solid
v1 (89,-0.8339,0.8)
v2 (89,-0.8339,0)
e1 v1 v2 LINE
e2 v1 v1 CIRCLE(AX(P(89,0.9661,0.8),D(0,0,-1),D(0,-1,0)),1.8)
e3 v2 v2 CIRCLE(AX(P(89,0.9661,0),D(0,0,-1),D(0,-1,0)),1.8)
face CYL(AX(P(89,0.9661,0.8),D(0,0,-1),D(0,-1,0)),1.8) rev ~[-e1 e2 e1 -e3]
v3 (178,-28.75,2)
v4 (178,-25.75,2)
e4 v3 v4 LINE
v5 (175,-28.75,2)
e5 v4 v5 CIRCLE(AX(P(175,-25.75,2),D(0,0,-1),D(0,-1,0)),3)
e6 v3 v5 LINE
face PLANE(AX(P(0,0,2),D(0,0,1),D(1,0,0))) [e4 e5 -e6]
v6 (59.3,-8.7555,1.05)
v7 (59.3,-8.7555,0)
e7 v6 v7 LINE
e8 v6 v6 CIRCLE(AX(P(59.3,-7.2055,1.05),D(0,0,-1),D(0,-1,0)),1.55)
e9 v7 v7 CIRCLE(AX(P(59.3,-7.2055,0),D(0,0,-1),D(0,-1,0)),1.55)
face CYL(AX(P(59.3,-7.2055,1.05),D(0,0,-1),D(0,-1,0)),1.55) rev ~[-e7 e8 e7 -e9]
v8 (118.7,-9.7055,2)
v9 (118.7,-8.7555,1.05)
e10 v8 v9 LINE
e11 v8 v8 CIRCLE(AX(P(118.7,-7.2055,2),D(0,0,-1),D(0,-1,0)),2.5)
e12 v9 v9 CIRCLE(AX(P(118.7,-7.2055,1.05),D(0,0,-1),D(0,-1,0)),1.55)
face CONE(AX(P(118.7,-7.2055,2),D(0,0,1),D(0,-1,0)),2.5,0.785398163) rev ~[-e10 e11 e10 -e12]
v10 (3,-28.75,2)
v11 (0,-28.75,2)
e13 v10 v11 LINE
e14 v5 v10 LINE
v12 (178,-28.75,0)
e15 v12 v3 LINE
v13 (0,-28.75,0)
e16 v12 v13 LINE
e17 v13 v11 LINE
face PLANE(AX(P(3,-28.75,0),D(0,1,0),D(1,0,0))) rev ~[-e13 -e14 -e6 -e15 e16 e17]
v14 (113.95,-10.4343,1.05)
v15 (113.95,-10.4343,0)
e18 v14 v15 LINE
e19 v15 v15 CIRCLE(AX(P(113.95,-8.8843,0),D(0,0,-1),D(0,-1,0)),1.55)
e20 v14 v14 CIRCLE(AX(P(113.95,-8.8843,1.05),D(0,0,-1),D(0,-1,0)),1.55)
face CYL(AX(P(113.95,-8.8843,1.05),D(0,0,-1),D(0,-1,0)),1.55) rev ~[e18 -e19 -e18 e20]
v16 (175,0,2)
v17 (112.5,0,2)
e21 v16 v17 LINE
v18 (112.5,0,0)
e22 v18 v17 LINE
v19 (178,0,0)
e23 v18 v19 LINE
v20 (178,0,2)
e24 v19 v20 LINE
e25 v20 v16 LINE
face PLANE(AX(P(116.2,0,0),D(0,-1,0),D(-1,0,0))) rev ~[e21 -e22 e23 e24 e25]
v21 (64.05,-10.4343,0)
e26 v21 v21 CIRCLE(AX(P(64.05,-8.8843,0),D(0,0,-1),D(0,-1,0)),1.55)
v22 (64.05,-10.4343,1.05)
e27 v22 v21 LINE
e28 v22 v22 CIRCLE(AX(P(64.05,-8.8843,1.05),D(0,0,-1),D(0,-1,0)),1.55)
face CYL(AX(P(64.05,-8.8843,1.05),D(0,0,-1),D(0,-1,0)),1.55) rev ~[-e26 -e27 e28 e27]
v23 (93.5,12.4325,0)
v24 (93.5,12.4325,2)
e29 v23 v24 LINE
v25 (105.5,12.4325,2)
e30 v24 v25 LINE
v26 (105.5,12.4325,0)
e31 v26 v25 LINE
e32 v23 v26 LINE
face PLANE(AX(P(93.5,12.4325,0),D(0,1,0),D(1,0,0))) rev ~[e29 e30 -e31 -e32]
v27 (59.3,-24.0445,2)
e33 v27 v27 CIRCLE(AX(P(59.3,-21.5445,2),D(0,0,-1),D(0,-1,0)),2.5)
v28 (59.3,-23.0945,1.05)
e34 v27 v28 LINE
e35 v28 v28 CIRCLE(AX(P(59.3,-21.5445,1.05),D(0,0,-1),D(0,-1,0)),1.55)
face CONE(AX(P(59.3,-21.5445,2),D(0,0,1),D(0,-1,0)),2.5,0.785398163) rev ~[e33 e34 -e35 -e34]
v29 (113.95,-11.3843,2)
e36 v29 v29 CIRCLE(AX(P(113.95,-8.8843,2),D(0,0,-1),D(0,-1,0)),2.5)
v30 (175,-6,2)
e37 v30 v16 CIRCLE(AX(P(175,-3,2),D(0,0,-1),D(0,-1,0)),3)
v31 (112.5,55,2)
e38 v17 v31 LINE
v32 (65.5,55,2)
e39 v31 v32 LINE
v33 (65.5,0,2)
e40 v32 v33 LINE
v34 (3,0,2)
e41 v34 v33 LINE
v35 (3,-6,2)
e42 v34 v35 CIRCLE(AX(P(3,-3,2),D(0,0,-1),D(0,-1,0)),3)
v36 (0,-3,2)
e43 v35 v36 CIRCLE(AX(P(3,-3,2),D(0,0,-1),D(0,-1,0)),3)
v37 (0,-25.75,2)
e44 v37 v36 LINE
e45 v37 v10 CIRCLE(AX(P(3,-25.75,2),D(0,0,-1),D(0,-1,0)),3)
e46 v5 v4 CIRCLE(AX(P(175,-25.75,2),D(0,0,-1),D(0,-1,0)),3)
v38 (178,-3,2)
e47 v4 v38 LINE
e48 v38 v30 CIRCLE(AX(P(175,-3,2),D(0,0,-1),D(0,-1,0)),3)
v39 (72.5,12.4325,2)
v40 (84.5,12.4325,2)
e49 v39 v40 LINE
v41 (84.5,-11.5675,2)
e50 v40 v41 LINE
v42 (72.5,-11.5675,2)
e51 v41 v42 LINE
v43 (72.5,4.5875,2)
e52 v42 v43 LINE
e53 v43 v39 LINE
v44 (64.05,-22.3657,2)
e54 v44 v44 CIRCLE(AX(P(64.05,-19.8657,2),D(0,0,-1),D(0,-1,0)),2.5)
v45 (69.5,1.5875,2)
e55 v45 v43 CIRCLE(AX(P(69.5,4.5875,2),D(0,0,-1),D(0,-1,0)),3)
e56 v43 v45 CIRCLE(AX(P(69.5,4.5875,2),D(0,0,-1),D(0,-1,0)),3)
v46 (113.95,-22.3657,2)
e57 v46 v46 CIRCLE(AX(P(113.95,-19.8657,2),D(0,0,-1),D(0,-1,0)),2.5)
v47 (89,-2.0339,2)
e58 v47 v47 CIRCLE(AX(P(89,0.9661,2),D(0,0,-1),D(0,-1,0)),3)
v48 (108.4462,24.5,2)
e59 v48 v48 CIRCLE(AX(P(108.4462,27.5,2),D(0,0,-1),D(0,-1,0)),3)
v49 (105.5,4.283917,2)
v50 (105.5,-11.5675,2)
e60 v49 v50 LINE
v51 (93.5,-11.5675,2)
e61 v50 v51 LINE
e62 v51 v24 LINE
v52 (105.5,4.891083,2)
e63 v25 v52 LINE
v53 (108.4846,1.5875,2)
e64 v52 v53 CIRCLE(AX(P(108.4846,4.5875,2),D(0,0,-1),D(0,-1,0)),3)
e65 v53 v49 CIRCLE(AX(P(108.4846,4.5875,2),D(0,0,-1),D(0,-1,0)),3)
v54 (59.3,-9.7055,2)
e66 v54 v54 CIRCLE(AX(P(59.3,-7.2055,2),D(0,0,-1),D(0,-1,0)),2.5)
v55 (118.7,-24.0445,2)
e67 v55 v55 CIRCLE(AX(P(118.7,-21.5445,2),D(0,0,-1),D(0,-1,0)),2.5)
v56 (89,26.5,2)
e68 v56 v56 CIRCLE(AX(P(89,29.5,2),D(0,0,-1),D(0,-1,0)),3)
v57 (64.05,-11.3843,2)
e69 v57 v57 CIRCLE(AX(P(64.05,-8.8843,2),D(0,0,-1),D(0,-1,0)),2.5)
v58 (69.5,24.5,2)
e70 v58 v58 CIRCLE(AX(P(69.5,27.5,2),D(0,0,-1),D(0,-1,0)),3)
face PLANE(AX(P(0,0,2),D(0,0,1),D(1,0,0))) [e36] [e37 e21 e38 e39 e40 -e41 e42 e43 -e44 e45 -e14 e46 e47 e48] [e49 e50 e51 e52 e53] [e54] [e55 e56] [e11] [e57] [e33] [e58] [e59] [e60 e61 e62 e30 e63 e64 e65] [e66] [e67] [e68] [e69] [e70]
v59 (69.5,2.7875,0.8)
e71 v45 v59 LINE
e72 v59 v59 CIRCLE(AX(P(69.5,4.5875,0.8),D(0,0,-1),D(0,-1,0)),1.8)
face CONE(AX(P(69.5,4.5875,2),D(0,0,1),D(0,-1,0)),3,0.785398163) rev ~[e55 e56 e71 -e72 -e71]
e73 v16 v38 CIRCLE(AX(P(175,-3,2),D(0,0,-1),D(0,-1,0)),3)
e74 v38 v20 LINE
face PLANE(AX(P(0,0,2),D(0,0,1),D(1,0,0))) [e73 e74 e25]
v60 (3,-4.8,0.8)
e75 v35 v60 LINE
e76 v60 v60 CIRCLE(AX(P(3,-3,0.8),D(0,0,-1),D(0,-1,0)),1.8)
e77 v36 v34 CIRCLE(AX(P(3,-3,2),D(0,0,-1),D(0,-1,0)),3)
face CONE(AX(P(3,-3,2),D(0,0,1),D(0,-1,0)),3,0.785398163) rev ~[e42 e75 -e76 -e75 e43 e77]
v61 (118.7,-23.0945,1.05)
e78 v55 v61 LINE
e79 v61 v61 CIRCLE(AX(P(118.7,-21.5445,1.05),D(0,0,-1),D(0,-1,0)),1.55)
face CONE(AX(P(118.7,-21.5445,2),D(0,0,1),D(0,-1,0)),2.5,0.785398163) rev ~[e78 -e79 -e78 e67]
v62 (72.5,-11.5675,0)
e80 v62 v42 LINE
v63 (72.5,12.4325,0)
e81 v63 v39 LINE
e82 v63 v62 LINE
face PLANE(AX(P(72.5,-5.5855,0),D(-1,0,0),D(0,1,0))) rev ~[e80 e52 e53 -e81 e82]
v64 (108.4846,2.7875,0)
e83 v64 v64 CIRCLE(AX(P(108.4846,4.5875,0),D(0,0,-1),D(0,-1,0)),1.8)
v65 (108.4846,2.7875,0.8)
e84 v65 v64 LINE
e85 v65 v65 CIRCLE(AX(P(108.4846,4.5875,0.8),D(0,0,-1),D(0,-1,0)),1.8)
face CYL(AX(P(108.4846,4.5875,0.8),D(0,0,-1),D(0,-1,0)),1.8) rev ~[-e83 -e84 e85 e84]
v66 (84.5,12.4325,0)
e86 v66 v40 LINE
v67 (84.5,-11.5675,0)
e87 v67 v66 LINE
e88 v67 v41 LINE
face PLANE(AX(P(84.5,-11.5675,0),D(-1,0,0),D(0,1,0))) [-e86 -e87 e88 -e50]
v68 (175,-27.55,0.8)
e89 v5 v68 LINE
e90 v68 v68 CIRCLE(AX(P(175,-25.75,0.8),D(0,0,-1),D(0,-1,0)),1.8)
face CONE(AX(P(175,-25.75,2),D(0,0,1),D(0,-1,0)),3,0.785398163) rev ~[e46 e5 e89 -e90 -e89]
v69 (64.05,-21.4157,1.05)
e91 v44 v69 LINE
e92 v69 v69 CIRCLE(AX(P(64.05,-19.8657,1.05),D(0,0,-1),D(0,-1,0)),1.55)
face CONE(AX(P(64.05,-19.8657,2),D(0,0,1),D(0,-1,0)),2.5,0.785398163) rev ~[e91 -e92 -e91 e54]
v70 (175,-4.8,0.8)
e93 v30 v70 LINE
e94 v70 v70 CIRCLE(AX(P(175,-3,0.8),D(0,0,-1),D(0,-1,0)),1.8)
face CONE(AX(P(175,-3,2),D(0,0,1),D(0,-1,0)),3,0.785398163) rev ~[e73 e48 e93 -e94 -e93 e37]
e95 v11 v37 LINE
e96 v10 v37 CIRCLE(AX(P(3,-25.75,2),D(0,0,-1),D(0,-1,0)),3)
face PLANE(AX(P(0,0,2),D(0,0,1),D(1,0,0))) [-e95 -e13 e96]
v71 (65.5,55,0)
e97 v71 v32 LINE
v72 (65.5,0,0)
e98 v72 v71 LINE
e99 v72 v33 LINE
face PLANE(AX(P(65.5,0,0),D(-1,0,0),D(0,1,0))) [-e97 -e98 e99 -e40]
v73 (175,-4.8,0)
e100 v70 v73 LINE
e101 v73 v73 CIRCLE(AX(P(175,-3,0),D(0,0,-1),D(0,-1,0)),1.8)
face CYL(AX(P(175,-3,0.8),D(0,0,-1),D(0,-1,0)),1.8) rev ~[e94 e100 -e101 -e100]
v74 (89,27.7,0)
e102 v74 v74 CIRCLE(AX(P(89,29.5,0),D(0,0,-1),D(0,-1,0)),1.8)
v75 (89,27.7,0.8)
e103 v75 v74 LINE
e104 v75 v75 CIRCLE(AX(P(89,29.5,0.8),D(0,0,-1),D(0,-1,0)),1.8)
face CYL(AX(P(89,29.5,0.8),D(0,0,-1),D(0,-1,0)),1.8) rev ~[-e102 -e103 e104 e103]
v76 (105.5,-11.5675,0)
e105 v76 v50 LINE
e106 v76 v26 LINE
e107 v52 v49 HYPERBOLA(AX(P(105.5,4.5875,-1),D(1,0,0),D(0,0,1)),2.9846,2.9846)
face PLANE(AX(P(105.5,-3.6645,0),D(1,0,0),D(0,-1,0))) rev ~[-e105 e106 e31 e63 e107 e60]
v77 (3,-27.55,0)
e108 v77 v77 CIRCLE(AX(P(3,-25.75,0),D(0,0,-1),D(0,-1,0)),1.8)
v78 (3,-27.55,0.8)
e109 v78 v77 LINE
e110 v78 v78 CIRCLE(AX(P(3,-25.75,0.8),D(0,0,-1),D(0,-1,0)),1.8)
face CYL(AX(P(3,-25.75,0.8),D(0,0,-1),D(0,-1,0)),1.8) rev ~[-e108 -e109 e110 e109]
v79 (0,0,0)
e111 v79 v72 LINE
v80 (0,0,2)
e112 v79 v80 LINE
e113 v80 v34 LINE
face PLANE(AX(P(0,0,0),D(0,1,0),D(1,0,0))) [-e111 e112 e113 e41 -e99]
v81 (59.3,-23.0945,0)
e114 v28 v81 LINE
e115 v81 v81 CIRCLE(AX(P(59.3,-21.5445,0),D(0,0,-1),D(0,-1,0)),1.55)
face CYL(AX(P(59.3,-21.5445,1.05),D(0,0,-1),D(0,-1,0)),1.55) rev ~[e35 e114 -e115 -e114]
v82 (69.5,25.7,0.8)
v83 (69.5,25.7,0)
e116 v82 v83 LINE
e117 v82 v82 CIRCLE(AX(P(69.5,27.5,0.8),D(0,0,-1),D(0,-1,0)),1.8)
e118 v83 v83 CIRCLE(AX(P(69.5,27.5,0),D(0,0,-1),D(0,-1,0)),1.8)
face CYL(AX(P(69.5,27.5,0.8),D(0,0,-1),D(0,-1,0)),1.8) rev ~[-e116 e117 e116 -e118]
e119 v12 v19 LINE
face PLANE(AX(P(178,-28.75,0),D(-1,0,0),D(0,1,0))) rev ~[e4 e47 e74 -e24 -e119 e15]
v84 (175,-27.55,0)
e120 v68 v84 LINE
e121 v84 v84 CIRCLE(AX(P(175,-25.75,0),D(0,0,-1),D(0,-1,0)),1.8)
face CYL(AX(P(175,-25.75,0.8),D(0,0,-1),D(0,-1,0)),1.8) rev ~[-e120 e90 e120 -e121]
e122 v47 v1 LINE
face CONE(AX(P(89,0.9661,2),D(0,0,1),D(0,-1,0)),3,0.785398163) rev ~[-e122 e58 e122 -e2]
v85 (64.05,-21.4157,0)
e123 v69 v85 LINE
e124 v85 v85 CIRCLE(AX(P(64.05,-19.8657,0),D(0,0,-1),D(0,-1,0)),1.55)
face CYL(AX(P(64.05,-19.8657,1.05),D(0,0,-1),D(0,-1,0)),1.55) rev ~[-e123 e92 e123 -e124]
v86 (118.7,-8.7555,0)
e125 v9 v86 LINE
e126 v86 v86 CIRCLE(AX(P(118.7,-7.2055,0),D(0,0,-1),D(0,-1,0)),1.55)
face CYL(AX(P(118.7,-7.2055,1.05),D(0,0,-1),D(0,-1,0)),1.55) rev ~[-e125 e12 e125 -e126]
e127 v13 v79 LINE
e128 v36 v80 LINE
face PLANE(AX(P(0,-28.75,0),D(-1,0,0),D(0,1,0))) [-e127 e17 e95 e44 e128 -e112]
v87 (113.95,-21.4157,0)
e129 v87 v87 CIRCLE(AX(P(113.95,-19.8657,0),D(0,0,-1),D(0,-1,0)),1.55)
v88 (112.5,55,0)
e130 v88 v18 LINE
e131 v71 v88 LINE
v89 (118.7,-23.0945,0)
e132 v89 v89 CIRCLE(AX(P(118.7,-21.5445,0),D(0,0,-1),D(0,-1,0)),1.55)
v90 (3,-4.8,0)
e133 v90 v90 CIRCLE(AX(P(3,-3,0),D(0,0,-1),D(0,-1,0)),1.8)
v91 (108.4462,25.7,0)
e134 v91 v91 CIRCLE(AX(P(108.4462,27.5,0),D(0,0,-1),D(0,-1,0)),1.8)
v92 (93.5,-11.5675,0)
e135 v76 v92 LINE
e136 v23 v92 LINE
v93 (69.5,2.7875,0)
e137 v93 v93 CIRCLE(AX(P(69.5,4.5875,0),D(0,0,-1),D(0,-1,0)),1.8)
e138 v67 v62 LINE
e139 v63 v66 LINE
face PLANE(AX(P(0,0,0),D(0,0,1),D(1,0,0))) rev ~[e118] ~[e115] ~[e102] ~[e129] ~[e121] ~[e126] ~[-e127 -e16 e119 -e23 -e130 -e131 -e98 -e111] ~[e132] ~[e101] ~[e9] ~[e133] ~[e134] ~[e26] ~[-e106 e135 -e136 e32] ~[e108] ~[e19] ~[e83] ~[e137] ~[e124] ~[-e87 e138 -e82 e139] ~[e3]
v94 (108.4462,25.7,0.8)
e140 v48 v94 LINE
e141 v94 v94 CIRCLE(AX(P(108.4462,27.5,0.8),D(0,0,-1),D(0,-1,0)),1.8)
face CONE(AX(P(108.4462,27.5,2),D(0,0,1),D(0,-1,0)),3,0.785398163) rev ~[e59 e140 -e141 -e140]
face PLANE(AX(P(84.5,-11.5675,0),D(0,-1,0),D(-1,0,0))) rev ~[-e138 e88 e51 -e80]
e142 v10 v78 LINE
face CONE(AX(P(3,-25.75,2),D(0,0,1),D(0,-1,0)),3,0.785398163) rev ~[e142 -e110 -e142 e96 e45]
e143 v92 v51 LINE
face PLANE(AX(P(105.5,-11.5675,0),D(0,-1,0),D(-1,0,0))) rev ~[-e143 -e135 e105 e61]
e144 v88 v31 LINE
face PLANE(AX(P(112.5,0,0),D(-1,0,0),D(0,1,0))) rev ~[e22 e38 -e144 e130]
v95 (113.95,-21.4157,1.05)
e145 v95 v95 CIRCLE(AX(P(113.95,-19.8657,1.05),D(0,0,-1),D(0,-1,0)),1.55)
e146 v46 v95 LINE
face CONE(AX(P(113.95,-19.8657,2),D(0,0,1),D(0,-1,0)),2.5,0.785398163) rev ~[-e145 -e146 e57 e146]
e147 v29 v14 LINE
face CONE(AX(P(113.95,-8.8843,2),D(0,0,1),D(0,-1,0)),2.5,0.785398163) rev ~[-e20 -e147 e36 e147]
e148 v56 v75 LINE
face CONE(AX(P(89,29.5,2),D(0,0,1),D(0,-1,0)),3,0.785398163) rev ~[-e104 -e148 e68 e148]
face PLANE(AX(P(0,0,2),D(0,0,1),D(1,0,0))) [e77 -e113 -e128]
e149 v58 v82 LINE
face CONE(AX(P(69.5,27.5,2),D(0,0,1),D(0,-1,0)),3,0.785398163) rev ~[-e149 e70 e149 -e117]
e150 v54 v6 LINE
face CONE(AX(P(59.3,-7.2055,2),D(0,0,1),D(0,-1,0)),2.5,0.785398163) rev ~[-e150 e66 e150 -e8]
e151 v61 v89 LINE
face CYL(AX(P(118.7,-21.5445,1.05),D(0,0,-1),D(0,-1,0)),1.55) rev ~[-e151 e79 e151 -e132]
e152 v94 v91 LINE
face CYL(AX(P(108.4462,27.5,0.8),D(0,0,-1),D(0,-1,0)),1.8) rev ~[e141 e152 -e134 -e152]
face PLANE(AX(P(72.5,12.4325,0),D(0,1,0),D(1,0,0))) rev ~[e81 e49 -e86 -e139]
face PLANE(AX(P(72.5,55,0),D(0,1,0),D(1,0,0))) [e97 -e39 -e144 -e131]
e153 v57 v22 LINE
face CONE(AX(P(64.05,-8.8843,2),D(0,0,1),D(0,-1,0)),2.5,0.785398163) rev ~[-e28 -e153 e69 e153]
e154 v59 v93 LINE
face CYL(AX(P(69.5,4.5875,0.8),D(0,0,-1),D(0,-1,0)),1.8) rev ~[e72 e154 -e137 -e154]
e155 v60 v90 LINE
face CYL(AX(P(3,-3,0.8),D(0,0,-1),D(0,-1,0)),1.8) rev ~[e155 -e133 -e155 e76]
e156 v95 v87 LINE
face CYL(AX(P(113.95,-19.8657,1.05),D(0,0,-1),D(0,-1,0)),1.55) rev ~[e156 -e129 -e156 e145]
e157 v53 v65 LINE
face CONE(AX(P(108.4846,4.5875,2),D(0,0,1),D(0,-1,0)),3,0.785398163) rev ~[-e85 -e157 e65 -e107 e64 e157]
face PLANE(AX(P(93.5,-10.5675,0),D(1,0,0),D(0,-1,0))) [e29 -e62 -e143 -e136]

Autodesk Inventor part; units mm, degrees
ref_plane "YZ Plane" through (0, 0, 0) normal (1, 0, 0) x (0, 1, 0)
ref_plane "XZ Plane" through (0, 0, 0) normal (0, 1, 0) x (-1, 0, 0)
ref_plane "XY Plane" through (0, 0, 0) normal (0, 0, 1) x (1, 0, 0)
ref_plane "Work Plane1" through (0, 0, 0) normal (0, 0, 1) x (1, 0, 0)
ref_plane "Work Plane2" through (0, 0, 0) normal (0, 0, 1) x (1, 0, 0)
sketch "Sketch3" plane through (0, 0, 0) normal (0, 0, 1) x (1, 0, 0)
  circle A0 centre (3, -25.75) radius 2.3 projected
  circle A1 centre (3, -3) radius 2.3 projected
  circle A2 centre (3, -74.8889) radius 2.3 projected
  line L0 (0, 0) -> (6, 0) projected
  line L1 (0, -77.8889) -> (0, 0) projected
  line L2 (0, -77.8889) -> (6, -77.8889) projected
  line L3 (6, -71.8889) -> (6, -77.8889) projected
  line L4 (6, -71.8889) -> (1.6, -71.8889) projected
  line L5 (1.6, -71.8889) -> (1.6, -56.7889) projected
  line L6 (1.6, -56.7889) -> (9.6, -56.7889) projected
  line L7 (9.6, -44.7889) -> (9.6, -56.7889) projected
  line L8 (3, -44.7889) -> (9.6, -44.7889) projected
  line L9 (3, -28.75) -> (3, -44.7889) projected
  line L10 (3, -28.75) -> (6, -28.75) projected
  line L11 (6, -28.75) -> (6, -22.75) projected
  line L12 (6, -22.75) -> (3, -22.75) projected
  line L13 (3, -6) -> (3, -22.75) projected
  line L14 (3, -6) -> (6, -6) projected
  line L15 (6, -6) -> (6, 0) projected
  circle A3 centre (5.6, -52.7889) radius 2.6 projected
  circle A4 centre (175, -3) radius 2.3 projected
  circle A5 centre (175, -25.75) radius 2.3 projected
  line L16 (175, -28.75) -> (175, -41.8889) projected
  line L17 (168.4, -41.8889) -> (175, -41.8889) projected
  line L18 (168.4, -53.8889) -> (168.4, -41.8889) projected
  line L19 (175, -53.8889) -> (168.4, -53.8889) projected
  line L20 (175, -53.8889) -> (175, -71.8889) projected
  line L21 (172, -71.8889) -> (172, -77.8889) projected
  line L22 (178, -77.8889) -> (172, -77.8889) projected
  line L23 (178, -77.8889) -> (178, 0) projected
  line L24 (178, 0) -> (172, 0) projected
  line L25 (172, 0) -> (172, -6) projected
  line L26 (172, -6) -> (175, -6) projected
  line L27 (175, -6) -> (175, -22.75) projected
  line L28 (175, -22.75) -> (172, -22.75) projected
  line L29 (172, -22.75) -> (172, -28.75) projected
  line L30 (172, -28.75) -> (175, -28.75) projected
  circle A6 centre (175, -74.8889) radius 2.3 projected
  circle A7 centre (172.4, -49.8889) radius 2.6 projected
  circle A8 centre (89, 0.9661) radius 2.3 projected
  circle A9 centre (89, 29.5) radius 2.3 projected
  circle A10 centre (89, 15.55) radius 3.3 projected
  circle A11 centre (89, -14.375) radius 3.3 projected
  circle A12 centre (89, 41.2) radius 3.3 projected
  line L31 (93.5, -27.75) -> (84.5, -27.75) projected
  line L32 (93.5, 55) -> (93.5, -27.75) projected
  line L33 (84.5, 55) -> (93.5, 55) projected
  line L34 (84.5, -27.75) -> (84.5, 55) projected
  line L35 (105.5, -27.75) -> (111.5, -27.75) projected
  line L36 (111.5, -24.9105) -> (111.5, -27.75) projected
  arc A13 (105.5, -24.9105) -> (111.5, -24.9105) centre (108.5, -23.95) ccw projected
  line L37 (105.5, -27.75) -> (105.5, -24.9105) projected
  arc A14 (111.5, -22.9895) -> (105.5, -22.9895) centre (108.5, -23.95) ccw projected
  line L38 (111.5, -5.5855) -> (111.5, -22.9895) projected
  arc A15 (105.5, -5.5855) -> (111.5, -5.5855) centre (108.5, -4.625) ccw projected
  line L39 (105.5, -22.9895) -> (105.5, -5.5855) projected
  circle A16 centre (108.4846, 4.5875) radius 2.3 projected
  arc A17 (105.5, 12.8395) -> (111.5, 12.8395) centre (108.5, 13.8) ccw projected
  line L40 (105.5, -3.6645) -> (105.5, 12.8395) projected
  arc A18 (111.5, -3.6645) -> (105.5, -3.6645) centre (108.5, -4.625) ccw projected
  line L41 (111.5, 12.8395) -> (111.5, -3.6645) projected
  circle A19 centre (108.4462, 27.5) radius 2.3 projected
  arc A20 (111.5, 14.7605) -> (105.5, 14.7605) centre (108.5, 13.8) ccw projected
  line L42 (111.5, 40.6331) -> (111.5, 14.7605) projected
  arc A21 (105.5, 40.1338) -> (111.5, 40.6331) centre (108.4231, 41.3077) ccw projected
  line L43 (105.5, 14.7605) -> (105.5, 40.1338) projected
  arc A22 (111.5, 41.9823) -> (105.5, 42.4816) centre (108.4231, 41.3077) ccw projected
  line L44 (111.5, 55) -> (111.5, 41.9823) projected
  line L45 (105.5, 55) -> (111.5, 55) projected
  line L46 (105.5, 42.4816) -> (105.5, 55) projected
  line L47 (111.5, 41.9823) -> (111.5, 55) projected
  line L48 (111.5, 41.9823) -> (112.5, 41.9823) projected
  line L49 (112.5, 41.9823) -> (112.5, 55) projected
  line L50 (111.5, 55) -> (112.5, 55) projected
  line L51 (111.5, 14.7605) -> (111.5, 40.6331) projected
  line L52 (111.5, 14.7605) -> (112.5, 14.7605) projected
  line L53 (112.5, 14.7605) -> (112.5, 40.6331) projected
  line L54 (111.5, 40.6331) -> (112.5, 40.6331) projected
  line L55 (111.5, -3.6645) -> (111.5, 12.8395) projected
  line L56 (111.5, -3.6645) -> (112.5, -3.6645) projected
  line L57 (112.5, -3.6645) -> (112.5, 12.8395) projected
  line L58 (111.5, 12.8395) -> (112.5, 12.8395) projected
  line L59 (66.5, 14.7605) -> (66.5, 40.6331) projected
  line L60 (66.5, 40.6331) -> (65.5, 40.6331) projected
  line L61 (65.5, 14.7605) -> (65.5, 40.6331) projected
  line L62 (66.5, 14.7605) -> (65.5, 14.7605) projected
  line L63 (66.5, 41.9823) -> (66.5, 55) projected
  line L64 (66.5, 55) -> (65.5, 55) projected
  line L65 (65.5, 41.9823) -> (65.5, 55) projected
  line L66 (66.5, 41.9823) -> (65.5, 41.9823) projected
  line L67 (66.5, -3.6645) -> (66.5, 12.8395) projected
  line L68 (66.5, 12.8395) -> (65.5, 12.8395) projected
  line L69 (65.5, -3.6645) -> (65.5, 12.8395) projected
  line L70 (66.5, -3.6645) -> (65.5, -3.6645) projected
  arc A23 (66.5, -5.5855) -> (72.5, -5.5855) centre (69.5, -4.625) ccw projected
  line L71 (66.5, -22.9895) -> (66.5, -5.5855) projected
  arc A24 (72.5, -22.9895) -> (66.5, -22.9895) centre (69.5, -23.95) ccw projected
  line L72 (72.5, -5.5855) -> (72.5, -22.9895) projected
  line L73 (66.5, -27.75) -> (72.5, -27.75) projected
  line L74 (72.5, -24.9105) -> (72.5, -27.75) projected
  arc A25 (66.5, -24.9105) -> (72.5, -24.9105) centre (69.5, -23.95) ccw projected
  line L75 (66.5, -27.75) -> (66.5, -24.9105) projected
  circle A26 centre (69.5, 4.5875) radius 2.3 projected
  arc A27 (72.5, -3.6645) -> (66.5, -3.6645) centre (69.5, -4.625) ccw projected
  line L76 (72.5, 12.8395) -> (72.5, -3.6645) projected
  arc A28 (66.5, 12.8395) -> (72.5, 12.8395) centre (69.5, 13.8) ccw projected
  line L77 (66.5, -3.6645) -> (66.5, 12.8395) projected
  circle A29 centre (69.5, 27.5) radius 2.3 projected
  arc A30 (66.5, 40.6331) -> (72.5, 40.1338) centre (69.5769, 41.3077) ccw projected
  line L78 (66.5, 14.7605) -> (66.5, 40.6331) projected
  arc A31 (72.5, 14.7605) -> (66.5, 14.7605) centre (69.5, 13.8) ccw projected
  line L79 (72.5, 40.1338) -> (72.5, 14.7605) projected
  arc A32 (72.5, 42.4816) -> (66.5, 41.9823) centre (69.5769, 41.3077) ccw projected
  line L80 (72.5, 55) -> (72.5, 42.4816) projected
  line L81 (66.5, 55) -> (72.5, 55) projected
  line L82 (66.5, 41.9823) -> (66.5, 55) projected
  circle A33 centre (59.3, -21.5445) radius 1.75 projected
  circle A34 centre (59.3, -7.2055) radius 1.75 projected
  line L83 (56.8, -28.75) -> (56.8, 0) projected
  line L84 (61.8, -28.75) -> (56.8, -28.75) projected
  line L85 (61.8, 0) -> (61.8, -28.75) projected
  line L86 (61.8, 0) -> (56.8, 0) projected
  circle A35 centre (64.05, -19.8657) radius 1.75 projected
  circle A36 centre (64.05, -8.8843) radius 1.75 projected
  line L87 (61.8, 0) -> (61.8, -28.75) projected
  line L88 (61.8, -28.75) -> (66.3, -28.75) projected
  line L89 (66.3, 0) -> (66.3, -28.75) projected
  line L90 (61.8, 0) -> (66.3, 0) projected
  circle A37 centre (113.95, -19.8657) radius 1.75 projected
  circle A38 centre (113.95, -8.8843) radius 1.75 projected
  line L91 (116.2, 0) -> (116.2, -28.75) projected
  line L92 (116.2, 0) -> (111.7, 0) projected
  line L93 (111.7, 0) -> (111.7, -28.75) projected
  line L94 (116.2, -28.75) -> (111.7, -28.75) projected
  circle A39 centre (118.7, -21.5445) radius 1.75 projected
  circle A40 centre (118.7, -7.2055) radius 1.75 projected
  line L95 (121.2, -28.75) -> (121.2, 0) projected
  line L96 (116.2, 0) -> (121.2, 0) projected
  line L97 (116.2, 0) -> (116.2, -28.75) projected
  line L98 (116.2, -28.75) -> (121.2, -28.75) projected
  line L99 (0, 0) -> (178, 0)
  line L100 (178, 0) -> (178, -28.75)
  line L101 (178, -28.75) -> (0, -28.75)
  line L102 (0, -28.75) -> (0, 0)
  line L103 (112.5, 0) -> (65.5, 0)
  line L104 (65.5, 0) -> (65.5, 55)
  line L105 (65.5, 55) -> (112.5, 55)
  line L106 (112.5, 55) -> (112.5, 0)
  line L107 (104.5, 11.4325) -> (104.5, -10.5675) projected
  line L108 (94.5, -10.5675) -> (94.5, 11.4325) projected
  line L109 (104.5, 11.4325) -> (73.5, 11.4325)
  line L110 (73.5, 11.4325) -> (73.5, -10.5675)
  line L111 (73.5, -10.5675) -> (104.5, -10.5675)
  line L112 (104.5, -10.5675) -> (104.5, 11.4325)
  line L113 (72.5, 12.4325) -> (105.5, 12.4325)
  line L114 (105.5, 12.4325) -> (105.5, -11.5675)
  line L115 (105.5, -11.5675) -> (72.5, -11.5675)
  line L116 (72.5, -11.5675) -> (72.5, 12.4325)
  line L117 (175, -71.8889) -> (172, -71.8889) projected
  point P0 (112.5, 0)
  point P1 (65.5, 0)
  point P2 (0, -28.75)
  point P3 (172, 0)
  point P4 (93.5, 12.4325)
  point P5 (105.5, -5.5855)
  point P6 (93.5, -11.5675)
  point P7 (84.5, -11.5675)
  point P8 (72.5, -5.5855)
  point P9 (84.5, 12.4325)
  dimension "d29" = 1
  dimension "d30" = 1
  dimension "d31" = 1
extrude "Extrusion2" add sketch "Sketch3" along normal blind 2 contours A0 | A1 | L0 L15 L14 L13 L12 L11 L10 L101 L1 | L99 L83 L101 L11 L12 L13 L14 L15 | L86 L85 L84 L83 | L90 L69 L70 L89 L88 L85 | L90 L89 L70 L69 | L69 L68 L67 L99 L90 | L89 L70 A27 L116 A23 L71 A24 L72 L115 L34 L31 L32 L39 A14 L38 A15 L114 A18 L56 L93 L101 | L104 L62 A31 L79 A30 L60 L66 A32 L80 L105 L34 L113 L76 A28 L68 | L99 L67 L70 L89 | L93 L56 L57 L92 L91 L94 | A28 L76 L99 L67 | L61 L60 L59 L62 | L99 L76 A27 L67 | L93 L92 L57 L56 | L56 L41 L99 L93 | L91 L96 L95 L98 | L59 A30 L79 A31 | A18 L40 L99 L41 | L99 L41 L58 L57 L92 | L95 L99 L25 L26 L27 L28 L29 L101 | L65 L64 L63 L66 | L72 A24 L71 A23 | L99 L40 A17 L41 | L29 L28 L27 L26 L25 L24 L23 L101 L30 | L113 A10 L32 L109 L34 | L34 L33 L32 L113 A10 | L63 L81 L80 A32 | L99 A8 L32 L111 L34 | L34 L109 L32 L99 A8 | A15 L38 A14 L39 | A17 L40 L113 L32 L105 L46 A22 L48 L106 L54 A21 L43 A20 L52 L58 | L113 A10 | A10 L113 | L111 L32 L115 A11 L34 | L99 A8 | A8 L99 | L115 A11 L32 L31 L34 | L52 L42 L54 L53 | L115 A11 | A11 L115 | A20 L43 A21 L42 | L45 L44 A22 L46 | L48 L44 L50 L49 | A4 | A5 | A9 | A12 | L37 A13 L36 L35 | A16 | A19 | L75 A25 L74 L73 | A26 | A29 | A33 | A34 | A35 | A36 | A37 | A38 | A39 | A40
sketch "Sketch4" plane through (0, 0, 2) normal (0, 0, 1) x (1, 0, 0)
  circle A0 centre (69.5, 27.5) radius 2.3 projected
  circle A1 centre (69.5, 4.5875) radius 2.3 projected
  circle A2 centre (89, 0.9661) radius 2 projected
  circle A3 centre (89, 29.5) radius 2.3 projected
  circle A4 centre (108.4462, 27.5) radius 2.3 projected
  circle A5 centre (108.4846, 4.5875) radius 2.3 projected
  circle A6 centre (64.05, -8.8843) radius 1.75 projected
  circle A7 centre (59.3, -7.2055) radius 1.75 projected
  circle A8 centre (59.3, -21.5445) radius 1.75 projected
  circle A9 centre (64.05, -19.8657) radius 1.75 projected
  circle A10 centre (118.7, -21.5445) radius 1.75 projected
  circle A11 centre (113.95, -19.8657) radius 1.75 projected
  circle A12 centre (113.95, -8.8843) radius 1.75 projected
  circle A13 centre (118.7, -7.2055) radius 1.75 projected
  circle A14 centre (3, -25.75) radius 2.3 projected
  circle A15 centre (3, -3) radius 2.3 projected
  circle A16 centre (175, -25.75) radius 2.3 projected
  circle A17 centre (175, -3) radius 2.3 projected
  point P0 (0, 0)
hole "Hole2" at (3, -3, 2) at (3, -25.75, 2) at (175, -3, 2) at (175, -25.75, 2) at (108.4846, 4.5875, 2) at (89, 0.9661, 2) at (69.5, 4.5875, 2) at (69.5, 27.5, 2) at (89, 29.5, 2) at (108.4462, 27.5, 2) direction (0, 0, -1) diameter 3.6 end through all countersink diameter 6 countersink angle 90 clearance for "Countersunk Flat Head Screw ISO 2009/7046" size "M3" standard "ISO"
sketch "Sketch5" plane through (0, 0, 2) normal (0, 0, 1) x (1, 0, 0)
  circle A0 centre (64.05, -19.8657) radius 1.75 projected
  circle A1 centre (59.3, -21.5445) radius 1.75 projected
  circle A2 centre (59.3, -7.2055) radius 1.75 projected
  circle A3 centre (64.05, -8.8843) radius 1.75 projected
  circle A4 centre (113.95, -8.8843) radius 1.75 projected
  circle A5 centre (118.7, -7.2055) radius 1.75 projected
  circle A6 centre (118.7, -21.5445) radius 1.75 projected
  circle A7 centre (113.95, -19.8657) radius 1.75 projected
  point P0 (0, 0)
hole "Hole3" at (59.3, -7.2055, 2) at (64.05, -8.8843, 2) at (64.05, -19.8657, 2) at (59.3, -21.5445, 2) at (113.95, -8.8843, 2) at (118.7, -7.2055, 2) at (118.7, -21.5445, 2) at (113.95, -19.8657, 2) direction (0, 0, -1) diameter 3.1 end through all countersink diameter 5 countersink angle 90 clearance for "Countersunk Flat Head Screw ISO 2009/7046" size "M2.5" standard "ISO"
equation "\"d30\" = d29"
properties part number "ceil"
